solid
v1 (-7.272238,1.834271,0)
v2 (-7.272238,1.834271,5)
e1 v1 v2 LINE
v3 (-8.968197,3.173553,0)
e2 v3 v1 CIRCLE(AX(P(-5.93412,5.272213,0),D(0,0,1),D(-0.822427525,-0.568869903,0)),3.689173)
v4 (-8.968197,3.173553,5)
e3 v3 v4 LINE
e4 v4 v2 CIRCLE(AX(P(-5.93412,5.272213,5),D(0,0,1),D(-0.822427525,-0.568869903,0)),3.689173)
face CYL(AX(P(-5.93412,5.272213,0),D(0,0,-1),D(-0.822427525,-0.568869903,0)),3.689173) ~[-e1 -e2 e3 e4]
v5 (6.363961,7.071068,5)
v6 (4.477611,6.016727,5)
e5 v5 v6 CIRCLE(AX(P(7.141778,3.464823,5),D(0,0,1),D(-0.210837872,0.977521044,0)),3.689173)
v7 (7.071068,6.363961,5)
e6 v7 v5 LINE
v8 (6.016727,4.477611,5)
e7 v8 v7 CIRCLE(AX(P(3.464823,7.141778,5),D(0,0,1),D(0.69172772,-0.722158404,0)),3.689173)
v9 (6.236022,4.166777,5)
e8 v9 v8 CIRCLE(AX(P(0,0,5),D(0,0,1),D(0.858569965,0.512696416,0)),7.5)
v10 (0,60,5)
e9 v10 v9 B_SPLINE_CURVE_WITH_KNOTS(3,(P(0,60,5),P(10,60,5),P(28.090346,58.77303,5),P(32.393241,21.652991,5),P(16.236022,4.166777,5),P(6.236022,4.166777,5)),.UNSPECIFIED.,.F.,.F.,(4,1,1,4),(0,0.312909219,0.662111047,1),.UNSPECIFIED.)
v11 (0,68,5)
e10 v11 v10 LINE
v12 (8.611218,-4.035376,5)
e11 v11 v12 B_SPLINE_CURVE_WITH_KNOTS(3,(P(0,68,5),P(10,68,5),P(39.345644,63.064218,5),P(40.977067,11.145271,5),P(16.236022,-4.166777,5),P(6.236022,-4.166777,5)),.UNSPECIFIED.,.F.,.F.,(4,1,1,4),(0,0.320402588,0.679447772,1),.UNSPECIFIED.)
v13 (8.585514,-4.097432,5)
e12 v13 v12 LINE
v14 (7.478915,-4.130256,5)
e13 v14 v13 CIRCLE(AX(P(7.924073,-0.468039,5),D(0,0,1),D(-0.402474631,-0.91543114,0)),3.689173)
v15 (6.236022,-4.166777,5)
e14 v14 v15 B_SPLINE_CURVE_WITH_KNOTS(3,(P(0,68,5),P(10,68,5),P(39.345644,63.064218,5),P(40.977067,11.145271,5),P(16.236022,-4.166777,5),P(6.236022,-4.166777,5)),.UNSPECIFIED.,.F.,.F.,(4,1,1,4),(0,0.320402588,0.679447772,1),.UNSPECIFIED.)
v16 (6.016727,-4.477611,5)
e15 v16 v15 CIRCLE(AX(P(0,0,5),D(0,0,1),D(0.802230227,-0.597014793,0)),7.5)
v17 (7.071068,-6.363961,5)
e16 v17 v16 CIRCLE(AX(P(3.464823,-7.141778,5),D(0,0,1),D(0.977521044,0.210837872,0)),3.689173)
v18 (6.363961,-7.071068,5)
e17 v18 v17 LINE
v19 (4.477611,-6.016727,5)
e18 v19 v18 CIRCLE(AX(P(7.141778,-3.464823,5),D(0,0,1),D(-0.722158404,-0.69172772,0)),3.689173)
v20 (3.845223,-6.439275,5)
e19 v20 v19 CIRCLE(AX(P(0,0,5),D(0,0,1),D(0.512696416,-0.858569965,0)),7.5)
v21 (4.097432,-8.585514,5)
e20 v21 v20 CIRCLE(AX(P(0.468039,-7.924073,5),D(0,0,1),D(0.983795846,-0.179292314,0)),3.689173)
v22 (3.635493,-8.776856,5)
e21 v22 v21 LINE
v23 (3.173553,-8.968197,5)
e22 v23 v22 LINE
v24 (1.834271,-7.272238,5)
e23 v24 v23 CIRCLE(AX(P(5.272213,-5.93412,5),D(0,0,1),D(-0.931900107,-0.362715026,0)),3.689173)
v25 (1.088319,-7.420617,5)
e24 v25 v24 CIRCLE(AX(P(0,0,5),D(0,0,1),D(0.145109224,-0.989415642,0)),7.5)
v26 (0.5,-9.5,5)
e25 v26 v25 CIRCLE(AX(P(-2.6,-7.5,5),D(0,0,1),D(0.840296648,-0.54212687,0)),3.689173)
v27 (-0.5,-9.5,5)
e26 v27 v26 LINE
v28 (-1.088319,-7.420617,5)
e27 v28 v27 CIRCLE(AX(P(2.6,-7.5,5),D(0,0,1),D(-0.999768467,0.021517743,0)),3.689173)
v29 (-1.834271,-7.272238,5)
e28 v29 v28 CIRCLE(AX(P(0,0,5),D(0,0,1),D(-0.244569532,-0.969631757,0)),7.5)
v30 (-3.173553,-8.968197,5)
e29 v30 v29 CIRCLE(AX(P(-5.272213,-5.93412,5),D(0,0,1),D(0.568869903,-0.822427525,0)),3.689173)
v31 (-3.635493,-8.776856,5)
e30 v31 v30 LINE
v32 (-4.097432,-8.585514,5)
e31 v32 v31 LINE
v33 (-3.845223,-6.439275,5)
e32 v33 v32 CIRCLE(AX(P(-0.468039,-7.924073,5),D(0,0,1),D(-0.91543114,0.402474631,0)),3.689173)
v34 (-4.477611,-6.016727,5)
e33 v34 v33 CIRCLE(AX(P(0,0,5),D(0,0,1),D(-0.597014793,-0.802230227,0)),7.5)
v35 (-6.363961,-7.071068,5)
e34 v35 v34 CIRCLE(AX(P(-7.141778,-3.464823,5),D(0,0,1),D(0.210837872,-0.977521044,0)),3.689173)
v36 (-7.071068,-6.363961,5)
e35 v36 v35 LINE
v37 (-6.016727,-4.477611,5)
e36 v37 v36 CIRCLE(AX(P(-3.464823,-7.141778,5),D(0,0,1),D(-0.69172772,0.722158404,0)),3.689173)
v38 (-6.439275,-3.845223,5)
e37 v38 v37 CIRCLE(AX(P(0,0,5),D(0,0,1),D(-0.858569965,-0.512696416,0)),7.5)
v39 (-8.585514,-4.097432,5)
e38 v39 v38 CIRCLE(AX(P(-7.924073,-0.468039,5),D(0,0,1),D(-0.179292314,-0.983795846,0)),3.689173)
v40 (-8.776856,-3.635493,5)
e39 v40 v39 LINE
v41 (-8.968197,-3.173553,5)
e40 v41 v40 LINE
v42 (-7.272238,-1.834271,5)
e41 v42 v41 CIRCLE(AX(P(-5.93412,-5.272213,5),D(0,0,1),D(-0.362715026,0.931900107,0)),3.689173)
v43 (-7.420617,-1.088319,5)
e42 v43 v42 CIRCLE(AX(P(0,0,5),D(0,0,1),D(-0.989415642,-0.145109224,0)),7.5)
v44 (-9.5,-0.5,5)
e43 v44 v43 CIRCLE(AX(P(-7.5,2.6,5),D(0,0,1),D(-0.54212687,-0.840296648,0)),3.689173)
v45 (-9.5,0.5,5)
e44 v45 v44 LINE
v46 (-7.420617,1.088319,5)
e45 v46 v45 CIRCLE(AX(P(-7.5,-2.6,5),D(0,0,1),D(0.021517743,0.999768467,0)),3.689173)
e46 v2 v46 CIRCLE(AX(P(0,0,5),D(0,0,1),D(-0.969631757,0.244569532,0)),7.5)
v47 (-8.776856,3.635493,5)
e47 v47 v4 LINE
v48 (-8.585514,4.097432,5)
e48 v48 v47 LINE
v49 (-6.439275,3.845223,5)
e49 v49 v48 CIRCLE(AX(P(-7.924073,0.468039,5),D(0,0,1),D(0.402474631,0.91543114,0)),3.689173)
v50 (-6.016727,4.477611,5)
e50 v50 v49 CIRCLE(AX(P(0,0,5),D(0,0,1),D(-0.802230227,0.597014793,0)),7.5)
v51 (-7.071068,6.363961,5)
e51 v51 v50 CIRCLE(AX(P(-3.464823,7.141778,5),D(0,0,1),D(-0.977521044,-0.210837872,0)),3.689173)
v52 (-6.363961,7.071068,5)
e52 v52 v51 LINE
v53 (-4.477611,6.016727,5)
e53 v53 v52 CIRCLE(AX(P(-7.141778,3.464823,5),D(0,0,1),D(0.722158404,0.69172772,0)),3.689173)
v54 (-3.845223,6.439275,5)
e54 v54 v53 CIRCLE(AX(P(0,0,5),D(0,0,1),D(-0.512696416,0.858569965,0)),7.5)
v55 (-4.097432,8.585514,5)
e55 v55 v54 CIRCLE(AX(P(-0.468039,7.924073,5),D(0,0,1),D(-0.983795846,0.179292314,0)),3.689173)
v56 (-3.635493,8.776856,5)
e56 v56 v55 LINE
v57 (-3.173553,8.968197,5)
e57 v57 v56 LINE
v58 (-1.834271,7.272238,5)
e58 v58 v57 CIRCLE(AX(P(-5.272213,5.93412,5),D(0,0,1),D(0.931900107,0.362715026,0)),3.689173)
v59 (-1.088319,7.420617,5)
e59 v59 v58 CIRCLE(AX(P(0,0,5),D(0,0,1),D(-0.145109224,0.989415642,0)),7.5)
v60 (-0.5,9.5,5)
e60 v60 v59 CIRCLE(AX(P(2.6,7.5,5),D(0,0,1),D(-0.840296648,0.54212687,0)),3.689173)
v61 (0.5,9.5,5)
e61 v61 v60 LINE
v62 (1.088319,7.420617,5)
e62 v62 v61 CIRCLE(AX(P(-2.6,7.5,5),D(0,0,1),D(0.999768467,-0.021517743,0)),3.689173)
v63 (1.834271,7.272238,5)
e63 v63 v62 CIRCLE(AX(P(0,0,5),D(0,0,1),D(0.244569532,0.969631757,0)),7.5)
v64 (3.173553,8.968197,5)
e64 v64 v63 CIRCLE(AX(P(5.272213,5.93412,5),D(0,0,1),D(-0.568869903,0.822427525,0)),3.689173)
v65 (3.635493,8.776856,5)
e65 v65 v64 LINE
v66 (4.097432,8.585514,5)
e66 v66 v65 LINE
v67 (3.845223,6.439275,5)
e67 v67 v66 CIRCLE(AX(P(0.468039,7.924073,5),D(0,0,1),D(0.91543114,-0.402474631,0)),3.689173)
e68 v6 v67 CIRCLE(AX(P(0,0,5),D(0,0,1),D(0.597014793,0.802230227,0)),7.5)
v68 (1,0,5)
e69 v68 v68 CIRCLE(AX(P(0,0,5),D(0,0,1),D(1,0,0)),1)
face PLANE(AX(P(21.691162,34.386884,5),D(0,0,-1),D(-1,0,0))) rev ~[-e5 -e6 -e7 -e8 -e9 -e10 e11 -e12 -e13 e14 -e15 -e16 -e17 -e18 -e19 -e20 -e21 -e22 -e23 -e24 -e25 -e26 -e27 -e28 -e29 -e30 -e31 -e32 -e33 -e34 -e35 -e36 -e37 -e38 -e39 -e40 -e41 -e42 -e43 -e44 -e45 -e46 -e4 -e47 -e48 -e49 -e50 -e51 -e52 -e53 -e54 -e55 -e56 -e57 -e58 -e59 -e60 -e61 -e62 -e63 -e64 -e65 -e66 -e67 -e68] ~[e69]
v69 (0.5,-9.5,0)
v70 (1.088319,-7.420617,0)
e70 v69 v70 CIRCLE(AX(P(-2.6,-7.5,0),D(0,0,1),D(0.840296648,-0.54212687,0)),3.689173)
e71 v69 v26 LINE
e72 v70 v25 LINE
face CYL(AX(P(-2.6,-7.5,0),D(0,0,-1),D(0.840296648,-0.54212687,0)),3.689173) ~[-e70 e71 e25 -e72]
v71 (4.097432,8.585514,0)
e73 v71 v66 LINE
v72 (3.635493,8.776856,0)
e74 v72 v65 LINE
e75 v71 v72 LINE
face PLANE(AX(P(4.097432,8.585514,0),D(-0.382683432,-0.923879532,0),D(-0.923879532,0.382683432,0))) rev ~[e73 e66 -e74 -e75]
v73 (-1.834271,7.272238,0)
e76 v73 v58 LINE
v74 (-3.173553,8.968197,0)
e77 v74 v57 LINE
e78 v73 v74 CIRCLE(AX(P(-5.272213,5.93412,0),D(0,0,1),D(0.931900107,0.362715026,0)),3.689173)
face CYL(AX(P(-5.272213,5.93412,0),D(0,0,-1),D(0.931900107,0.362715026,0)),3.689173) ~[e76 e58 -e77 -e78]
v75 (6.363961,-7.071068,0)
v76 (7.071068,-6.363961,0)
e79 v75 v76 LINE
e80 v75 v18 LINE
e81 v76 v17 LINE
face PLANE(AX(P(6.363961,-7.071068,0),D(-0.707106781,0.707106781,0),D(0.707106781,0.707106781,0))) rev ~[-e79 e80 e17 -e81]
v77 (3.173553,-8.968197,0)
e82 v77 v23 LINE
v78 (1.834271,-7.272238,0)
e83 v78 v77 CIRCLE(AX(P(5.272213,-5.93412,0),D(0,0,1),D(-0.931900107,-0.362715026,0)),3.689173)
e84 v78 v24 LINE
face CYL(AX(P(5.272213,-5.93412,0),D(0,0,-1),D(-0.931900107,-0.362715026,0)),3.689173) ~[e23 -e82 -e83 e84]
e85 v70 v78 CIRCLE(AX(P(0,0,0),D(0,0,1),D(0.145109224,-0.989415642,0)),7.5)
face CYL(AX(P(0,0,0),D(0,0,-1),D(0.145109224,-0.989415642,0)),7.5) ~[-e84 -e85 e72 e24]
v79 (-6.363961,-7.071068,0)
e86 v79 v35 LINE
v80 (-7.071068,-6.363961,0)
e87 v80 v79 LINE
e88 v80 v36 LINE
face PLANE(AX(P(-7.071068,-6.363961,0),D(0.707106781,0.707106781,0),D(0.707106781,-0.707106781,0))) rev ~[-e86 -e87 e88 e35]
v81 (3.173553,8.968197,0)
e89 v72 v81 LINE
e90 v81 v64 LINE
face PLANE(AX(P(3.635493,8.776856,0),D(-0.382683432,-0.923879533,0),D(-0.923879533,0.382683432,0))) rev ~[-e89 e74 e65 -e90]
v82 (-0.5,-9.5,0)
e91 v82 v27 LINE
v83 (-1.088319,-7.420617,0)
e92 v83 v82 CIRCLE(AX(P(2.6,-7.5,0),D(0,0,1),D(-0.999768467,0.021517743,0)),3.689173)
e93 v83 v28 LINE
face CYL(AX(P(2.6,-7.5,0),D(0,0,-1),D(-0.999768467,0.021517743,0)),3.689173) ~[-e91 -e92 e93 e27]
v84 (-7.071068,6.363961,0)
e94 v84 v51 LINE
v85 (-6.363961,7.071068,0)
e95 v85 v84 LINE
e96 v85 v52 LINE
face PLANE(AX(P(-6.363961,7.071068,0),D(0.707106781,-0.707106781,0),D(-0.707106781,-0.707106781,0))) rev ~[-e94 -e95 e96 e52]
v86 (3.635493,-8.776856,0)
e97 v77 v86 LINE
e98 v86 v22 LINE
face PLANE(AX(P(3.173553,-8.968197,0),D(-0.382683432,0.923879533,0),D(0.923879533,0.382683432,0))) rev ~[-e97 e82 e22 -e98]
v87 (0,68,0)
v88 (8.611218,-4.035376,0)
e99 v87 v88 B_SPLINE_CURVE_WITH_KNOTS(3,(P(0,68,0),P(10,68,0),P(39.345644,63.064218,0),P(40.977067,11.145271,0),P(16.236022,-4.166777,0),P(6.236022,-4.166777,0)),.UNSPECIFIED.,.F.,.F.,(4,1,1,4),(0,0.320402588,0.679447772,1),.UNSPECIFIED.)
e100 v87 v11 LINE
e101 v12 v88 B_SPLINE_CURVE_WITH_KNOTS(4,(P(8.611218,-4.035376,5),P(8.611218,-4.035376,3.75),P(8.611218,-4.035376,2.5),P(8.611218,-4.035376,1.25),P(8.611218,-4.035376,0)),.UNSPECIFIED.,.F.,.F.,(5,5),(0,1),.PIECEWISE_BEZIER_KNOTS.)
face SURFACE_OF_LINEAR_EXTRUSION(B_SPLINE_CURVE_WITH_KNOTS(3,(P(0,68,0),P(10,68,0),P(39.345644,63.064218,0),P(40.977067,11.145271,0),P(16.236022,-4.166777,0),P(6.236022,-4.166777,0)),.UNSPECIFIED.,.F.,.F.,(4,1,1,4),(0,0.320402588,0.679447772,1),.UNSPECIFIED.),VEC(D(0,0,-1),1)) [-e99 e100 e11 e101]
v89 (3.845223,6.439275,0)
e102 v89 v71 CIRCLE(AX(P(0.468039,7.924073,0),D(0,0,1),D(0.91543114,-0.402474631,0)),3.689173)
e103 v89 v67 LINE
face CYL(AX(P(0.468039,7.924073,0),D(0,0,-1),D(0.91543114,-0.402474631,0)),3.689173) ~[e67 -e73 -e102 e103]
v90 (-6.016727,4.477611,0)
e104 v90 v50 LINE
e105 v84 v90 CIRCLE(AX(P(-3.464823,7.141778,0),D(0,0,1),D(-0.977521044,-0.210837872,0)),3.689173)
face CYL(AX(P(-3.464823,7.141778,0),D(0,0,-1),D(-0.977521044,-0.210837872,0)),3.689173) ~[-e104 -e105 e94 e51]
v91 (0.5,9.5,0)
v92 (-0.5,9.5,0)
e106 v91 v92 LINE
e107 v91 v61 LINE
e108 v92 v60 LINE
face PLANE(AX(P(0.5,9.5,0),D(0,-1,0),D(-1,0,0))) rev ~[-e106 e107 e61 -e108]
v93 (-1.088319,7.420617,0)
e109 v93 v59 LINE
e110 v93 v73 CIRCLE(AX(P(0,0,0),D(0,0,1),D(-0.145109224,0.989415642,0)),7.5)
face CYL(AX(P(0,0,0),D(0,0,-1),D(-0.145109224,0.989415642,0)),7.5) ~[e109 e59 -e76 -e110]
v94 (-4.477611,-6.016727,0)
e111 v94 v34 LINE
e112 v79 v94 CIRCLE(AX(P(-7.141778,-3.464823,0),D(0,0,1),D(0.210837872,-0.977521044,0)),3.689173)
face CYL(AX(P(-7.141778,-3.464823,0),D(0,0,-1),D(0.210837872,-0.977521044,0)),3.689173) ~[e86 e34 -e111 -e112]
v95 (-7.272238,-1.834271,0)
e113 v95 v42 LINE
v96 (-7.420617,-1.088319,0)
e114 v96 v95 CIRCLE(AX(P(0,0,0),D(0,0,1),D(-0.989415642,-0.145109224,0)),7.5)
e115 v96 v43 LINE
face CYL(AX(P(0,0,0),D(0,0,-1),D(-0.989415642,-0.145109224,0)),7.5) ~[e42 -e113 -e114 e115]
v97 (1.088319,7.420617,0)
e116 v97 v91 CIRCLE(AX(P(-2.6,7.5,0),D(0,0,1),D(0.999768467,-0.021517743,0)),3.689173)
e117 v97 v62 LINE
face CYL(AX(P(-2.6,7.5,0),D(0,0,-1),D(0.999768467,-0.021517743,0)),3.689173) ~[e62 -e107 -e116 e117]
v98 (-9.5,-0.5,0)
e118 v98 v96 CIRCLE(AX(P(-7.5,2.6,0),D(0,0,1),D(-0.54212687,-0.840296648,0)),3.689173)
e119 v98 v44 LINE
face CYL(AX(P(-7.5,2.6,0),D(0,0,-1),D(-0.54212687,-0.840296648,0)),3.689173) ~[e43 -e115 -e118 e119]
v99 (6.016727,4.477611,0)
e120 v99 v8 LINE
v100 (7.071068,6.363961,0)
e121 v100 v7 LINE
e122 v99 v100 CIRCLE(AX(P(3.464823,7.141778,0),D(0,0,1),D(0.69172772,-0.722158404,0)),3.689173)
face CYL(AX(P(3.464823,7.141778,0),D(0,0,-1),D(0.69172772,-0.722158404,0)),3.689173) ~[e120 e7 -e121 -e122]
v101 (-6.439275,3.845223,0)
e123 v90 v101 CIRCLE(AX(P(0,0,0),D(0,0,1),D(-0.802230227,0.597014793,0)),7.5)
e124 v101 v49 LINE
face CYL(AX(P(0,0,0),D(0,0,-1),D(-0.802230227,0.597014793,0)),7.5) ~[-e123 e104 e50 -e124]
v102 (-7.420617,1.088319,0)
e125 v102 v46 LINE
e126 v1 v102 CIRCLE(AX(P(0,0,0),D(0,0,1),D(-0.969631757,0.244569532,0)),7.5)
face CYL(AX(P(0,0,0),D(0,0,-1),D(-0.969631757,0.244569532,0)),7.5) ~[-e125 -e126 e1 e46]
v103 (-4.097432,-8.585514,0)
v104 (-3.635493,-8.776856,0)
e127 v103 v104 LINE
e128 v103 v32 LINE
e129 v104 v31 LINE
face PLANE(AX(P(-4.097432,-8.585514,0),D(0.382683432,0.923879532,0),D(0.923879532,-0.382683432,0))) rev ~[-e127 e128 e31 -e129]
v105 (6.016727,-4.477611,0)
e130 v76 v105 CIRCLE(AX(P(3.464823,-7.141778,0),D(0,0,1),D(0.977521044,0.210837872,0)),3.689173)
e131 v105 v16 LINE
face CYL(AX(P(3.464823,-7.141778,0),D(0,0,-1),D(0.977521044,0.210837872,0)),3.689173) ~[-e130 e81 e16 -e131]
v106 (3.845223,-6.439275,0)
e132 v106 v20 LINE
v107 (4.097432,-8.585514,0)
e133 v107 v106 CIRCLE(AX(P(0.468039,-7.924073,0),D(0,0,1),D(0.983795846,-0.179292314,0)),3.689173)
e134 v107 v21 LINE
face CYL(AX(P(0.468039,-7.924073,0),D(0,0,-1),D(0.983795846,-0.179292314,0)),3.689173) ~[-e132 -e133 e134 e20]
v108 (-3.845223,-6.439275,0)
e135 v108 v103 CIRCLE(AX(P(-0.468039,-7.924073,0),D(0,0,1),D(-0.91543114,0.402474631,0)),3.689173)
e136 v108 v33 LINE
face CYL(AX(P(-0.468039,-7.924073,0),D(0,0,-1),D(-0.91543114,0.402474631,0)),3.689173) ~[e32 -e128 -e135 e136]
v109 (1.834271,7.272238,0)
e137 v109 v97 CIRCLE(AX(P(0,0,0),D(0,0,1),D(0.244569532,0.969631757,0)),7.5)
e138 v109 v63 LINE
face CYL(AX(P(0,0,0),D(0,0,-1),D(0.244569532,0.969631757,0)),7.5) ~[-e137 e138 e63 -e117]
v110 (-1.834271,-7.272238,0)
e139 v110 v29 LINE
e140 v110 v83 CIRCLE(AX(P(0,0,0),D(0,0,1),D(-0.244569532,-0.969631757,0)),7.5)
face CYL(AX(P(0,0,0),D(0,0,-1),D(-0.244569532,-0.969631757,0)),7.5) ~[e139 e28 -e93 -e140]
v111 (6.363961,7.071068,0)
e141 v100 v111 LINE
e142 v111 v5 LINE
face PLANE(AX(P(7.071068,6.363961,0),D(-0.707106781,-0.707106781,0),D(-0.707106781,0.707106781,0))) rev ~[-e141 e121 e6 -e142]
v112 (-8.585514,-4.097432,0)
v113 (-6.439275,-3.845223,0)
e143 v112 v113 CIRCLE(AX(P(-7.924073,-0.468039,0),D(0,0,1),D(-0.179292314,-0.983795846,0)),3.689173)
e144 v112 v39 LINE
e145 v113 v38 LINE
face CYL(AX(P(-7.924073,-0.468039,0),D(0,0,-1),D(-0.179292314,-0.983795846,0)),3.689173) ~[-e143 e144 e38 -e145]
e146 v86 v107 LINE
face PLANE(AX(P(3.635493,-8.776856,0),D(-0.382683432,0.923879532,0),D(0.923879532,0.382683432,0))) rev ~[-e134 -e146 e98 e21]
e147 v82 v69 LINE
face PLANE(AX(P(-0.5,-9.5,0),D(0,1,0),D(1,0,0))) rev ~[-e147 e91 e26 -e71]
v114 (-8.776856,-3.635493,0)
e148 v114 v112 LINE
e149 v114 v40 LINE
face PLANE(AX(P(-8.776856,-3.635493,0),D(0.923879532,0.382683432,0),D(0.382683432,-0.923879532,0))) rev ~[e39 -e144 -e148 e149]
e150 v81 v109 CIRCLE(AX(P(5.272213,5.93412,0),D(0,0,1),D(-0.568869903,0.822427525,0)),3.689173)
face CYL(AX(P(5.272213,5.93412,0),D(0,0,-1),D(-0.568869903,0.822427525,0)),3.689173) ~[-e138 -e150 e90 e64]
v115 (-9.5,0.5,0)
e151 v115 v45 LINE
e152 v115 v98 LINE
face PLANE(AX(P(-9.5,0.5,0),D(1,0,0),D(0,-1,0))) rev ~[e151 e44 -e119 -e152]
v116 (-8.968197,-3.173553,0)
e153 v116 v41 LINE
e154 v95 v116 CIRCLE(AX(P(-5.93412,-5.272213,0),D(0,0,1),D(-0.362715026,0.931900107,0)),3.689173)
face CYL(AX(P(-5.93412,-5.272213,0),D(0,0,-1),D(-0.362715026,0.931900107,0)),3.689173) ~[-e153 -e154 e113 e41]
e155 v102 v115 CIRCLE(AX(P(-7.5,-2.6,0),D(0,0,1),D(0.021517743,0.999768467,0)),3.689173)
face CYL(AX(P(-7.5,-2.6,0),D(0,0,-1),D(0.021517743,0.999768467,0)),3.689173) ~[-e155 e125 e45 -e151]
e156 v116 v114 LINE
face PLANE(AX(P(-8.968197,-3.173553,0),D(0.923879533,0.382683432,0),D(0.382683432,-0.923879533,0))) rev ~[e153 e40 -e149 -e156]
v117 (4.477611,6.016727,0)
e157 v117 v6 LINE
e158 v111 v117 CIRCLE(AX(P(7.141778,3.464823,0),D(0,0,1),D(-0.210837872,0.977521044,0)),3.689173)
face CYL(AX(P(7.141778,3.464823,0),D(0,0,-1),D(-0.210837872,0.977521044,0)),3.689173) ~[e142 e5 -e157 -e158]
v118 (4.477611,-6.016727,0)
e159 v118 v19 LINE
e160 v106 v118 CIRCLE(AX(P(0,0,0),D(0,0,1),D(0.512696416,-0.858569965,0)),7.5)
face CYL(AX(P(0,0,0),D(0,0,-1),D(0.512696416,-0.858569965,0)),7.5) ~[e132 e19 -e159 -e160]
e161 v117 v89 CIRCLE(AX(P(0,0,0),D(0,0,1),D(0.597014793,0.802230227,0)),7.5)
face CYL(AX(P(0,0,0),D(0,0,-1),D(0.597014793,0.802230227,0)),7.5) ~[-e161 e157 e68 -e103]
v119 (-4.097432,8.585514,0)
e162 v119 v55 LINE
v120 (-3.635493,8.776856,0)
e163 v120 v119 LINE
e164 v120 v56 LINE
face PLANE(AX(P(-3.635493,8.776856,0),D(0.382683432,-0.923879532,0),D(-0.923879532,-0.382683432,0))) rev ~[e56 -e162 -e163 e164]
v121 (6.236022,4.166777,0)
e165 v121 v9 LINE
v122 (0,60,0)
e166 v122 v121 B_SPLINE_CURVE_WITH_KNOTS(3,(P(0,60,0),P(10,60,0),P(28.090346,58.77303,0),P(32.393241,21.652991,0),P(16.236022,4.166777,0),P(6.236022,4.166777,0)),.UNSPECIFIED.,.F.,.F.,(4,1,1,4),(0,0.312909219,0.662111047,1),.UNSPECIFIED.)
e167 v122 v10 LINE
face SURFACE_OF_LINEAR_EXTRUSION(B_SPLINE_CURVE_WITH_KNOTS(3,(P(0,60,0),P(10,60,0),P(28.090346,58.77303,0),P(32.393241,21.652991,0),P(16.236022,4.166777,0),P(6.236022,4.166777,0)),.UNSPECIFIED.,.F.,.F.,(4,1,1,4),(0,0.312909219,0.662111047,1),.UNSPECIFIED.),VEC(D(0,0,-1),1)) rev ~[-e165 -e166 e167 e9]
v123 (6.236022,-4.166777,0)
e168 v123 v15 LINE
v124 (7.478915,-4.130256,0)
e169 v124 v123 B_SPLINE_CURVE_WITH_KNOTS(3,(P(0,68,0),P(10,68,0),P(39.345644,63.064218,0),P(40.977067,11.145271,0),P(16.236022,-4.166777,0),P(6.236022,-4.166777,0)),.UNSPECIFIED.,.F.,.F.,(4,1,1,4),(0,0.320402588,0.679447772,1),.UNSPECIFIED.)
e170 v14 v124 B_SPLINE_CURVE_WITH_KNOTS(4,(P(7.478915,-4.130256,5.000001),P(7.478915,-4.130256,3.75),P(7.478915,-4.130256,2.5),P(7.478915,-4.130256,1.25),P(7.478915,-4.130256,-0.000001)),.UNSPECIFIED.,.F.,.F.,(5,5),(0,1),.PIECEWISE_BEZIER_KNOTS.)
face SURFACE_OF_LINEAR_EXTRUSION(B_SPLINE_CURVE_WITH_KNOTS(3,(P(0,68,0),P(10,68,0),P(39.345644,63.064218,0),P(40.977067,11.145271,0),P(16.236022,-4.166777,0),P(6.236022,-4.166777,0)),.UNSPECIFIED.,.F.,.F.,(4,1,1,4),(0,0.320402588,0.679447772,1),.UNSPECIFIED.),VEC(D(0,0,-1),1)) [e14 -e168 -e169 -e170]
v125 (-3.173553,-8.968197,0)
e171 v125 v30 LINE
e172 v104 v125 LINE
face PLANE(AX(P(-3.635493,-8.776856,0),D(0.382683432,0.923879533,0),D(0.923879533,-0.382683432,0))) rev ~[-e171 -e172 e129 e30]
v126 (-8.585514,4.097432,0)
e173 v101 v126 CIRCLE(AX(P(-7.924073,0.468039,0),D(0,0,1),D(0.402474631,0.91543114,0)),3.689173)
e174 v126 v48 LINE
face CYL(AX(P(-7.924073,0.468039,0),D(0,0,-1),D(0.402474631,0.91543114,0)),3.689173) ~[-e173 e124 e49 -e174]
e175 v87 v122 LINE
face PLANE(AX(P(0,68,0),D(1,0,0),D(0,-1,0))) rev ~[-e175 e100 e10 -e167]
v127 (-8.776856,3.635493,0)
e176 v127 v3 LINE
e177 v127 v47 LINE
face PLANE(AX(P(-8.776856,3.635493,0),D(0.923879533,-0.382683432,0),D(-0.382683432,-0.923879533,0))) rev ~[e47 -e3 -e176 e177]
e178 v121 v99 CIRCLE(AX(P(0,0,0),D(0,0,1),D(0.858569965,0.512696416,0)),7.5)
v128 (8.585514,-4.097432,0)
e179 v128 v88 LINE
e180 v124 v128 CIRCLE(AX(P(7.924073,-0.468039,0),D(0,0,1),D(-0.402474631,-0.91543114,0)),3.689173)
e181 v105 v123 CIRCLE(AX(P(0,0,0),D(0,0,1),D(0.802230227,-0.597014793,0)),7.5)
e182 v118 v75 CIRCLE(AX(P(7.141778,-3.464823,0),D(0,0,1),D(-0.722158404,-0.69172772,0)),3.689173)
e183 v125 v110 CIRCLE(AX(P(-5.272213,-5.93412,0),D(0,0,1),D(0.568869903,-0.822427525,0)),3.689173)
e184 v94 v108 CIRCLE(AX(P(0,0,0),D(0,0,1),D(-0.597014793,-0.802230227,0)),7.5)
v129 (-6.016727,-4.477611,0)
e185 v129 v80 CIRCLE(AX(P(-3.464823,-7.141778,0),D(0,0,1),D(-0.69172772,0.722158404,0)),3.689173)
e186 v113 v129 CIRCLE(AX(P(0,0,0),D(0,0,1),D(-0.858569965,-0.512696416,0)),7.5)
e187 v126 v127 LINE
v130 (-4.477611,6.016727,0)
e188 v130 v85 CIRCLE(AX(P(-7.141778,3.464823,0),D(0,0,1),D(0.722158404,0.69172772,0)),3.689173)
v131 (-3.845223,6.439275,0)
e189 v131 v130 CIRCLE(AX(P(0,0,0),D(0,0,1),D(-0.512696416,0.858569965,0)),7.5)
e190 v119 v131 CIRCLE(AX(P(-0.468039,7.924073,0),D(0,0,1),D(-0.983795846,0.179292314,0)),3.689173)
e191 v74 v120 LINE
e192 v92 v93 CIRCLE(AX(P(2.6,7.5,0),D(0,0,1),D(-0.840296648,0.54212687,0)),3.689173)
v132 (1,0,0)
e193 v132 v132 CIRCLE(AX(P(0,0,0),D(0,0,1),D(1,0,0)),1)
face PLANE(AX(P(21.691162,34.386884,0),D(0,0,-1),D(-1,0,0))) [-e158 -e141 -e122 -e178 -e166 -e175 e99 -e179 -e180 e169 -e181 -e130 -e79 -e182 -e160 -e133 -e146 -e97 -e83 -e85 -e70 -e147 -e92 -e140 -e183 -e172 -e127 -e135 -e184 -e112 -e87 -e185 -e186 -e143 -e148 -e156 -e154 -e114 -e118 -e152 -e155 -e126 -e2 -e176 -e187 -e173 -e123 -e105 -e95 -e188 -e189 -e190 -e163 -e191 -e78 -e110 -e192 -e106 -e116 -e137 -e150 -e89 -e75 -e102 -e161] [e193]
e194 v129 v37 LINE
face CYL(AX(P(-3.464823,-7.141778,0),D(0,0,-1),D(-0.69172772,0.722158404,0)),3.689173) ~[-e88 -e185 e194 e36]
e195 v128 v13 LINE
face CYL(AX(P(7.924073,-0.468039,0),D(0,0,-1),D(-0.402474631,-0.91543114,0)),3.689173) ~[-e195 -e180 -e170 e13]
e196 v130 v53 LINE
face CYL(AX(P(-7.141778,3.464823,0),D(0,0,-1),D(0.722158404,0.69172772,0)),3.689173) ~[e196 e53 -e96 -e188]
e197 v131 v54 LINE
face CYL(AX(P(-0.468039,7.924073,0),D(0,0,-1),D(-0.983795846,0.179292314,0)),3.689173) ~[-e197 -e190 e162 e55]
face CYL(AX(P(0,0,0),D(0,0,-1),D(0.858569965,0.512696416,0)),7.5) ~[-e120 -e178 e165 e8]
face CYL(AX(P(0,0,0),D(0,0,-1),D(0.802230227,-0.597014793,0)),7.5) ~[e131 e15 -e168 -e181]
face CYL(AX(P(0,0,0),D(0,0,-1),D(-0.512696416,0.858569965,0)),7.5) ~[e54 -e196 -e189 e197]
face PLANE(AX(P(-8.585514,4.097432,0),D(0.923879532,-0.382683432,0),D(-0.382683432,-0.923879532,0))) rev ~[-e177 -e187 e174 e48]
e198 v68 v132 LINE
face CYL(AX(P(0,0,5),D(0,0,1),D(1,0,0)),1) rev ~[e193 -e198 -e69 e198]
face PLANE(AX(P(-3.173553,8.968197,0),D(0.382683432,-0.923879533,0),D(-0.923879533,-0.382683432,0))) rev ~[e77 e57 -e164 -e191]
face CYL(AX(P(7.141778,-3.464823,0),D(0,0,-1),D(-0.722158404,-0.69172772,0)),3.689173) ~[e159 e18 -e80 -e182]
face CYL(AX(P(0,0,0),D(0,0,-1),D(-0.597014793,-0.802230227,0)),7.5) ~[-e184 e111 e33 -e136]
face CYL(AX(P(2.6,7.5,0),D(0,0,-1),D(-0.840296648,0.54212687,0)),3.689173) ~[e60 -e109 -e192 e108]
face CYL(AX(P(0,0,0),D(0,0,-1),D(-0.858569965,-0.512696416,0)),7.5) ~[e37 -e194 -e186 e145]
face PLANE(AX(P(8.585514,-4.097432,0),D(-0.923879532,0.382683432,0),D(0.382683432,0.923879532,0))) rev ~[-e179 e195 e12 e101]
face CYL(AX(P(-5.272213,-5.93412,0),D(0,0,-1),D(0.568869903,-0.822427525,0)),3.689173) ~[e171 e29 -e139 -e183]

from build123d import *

# Parameters (mm, degrees)
F1_DEPTH = 5
F2_R     = 1
F3_DEPTH = 5.001
F5_DEPTH = 5


with BuildPart() as f1:
    # F0 (on Top) → F1 (new body)
    with BuildSketch(Plane.XY):
        with BuildLine():
            ThreePointArc((7.4206173165, -1.0883191822), (7.4801280027, -0.5456052265), (7.5, 0))
            ThreePointArc((7.5, 0), (7.4801280027, 0.5456052265), (7.4206173165, 1.0883191822))
            ThreePointArc((7.4206173165, 1.0883191822), (7.355889603, 1.4631774151), (7.2722381774, 1.8342714877))
            ThreePointArc((7.2722381774, 1.8342714877), (6.9290964938, 2.8701257427), (6.4392747372, 3.8452231222))
            ThreePointArc((6.4392747372, 3.8452231222), (6.2360220923, 4.1667767476), (6.0167266989, 4.4776109513))
            ThreePointArc((6.0167266989, 4.4776109513), (5.3033008589, 5.3033008589), (4.4776109513, 6.0167266989))
            ThreePointArc((4.4776109513, 6.0167266989), (4.1667767476, 6.2360220923), (3.8452231222, 6.4392747372))
            ThreePointArc((3.8452231222, 6.4392747372), (2.8701257427, 6.9290964938), (1.8342714877, 7.2722381774))
            ThreePointArc((1.8342714877, 7.2722381774), (1.4631774151, 7.355889603), (1.0883191822, 7.4206173165))
            ThreePointArc((1.0883191822, 7.4206173165), (0, 7.5), (-1.0883191822, 7.4206173165))
            ThreePointArc((-1.0883191822, 7.4206173165), (-1.4631774151, 7.355889603), (-1.8342714877, 7.2722381774))
            ThreePointArc((-1.8342714877, 7.2722381774), (-2.8701257427, 6.9290964938), (-3.8452231222, 6.4392747372))
            ThreePointArc((-3.8452231222, 6.4392747372), (-4.1667767476, 6.2360220923), (-4.4776109513, 6.0167266989))
            ThreePointArc((-4.4776109513, 6.0167266989), (-5.3033008589, 5.3033008589), (-6.0167266989, 4.4776109513))
            ThreePointArc((-6.0167266989, 4.4776109513), (-6.2360220923, 4.1667767476), (-6.4392747372, 3.8452231222))
            ThreePointArc((-6.4392747372, 3.8452231222), (-6.9290964938, 2.8701257427), (-7.2722381774, 1.8342714877))
            ThreePointArc((-7.2722381774, 1.8342714877), (-7.355889603, 1.4631774151), (-7.4206173165, 1.0883191822))
            ThreePointArc((-7.4206173165, 1.0883191822), (-7.5, 0), (-7.4206173165, -1.0883191822))
            ThreePointArc((-7.4206173165, -1.0883191822), (-7.355889603, -1.4631774151), (-7.2722381774, -1.8342714877))
            ThreePointArc((-7.2722381774, -1.8342714877), (-6.9290964938, -2.8701257427), (-6.4392747372, -3.8452231222))
            ThreePointArc((-6.4392747372, -3.8452231222), (-6.2360220923, -4.1667767476), (-6.0167266989, -4.4776109513))
            ThreePointArc((-6.0167266989, -4.4776109513), (-5.3033008589, -5.3033008589), (-4.4776109513, -6.0167266989))
            ThreePointArc((-4.4776109513, -6.0167266989), (-4.1667767476, -6.2360220923), (-3.8452231222, -6.4392747372))
            ThreePointArc((-3.8452231222, -6.4392747372), (-2.8701257427, -6.9290964938), (-1.8342714877, -7.2722381774))
            ThreePointArc((-1.8342714877, -7.2722381774), (-1.4631774151, -7.355889603), (-1.0883191822, -7.4206173165))
            ThreePointArc((-1.0883191822, -7.4206173165), (0, -7.5), (1.0883191822, -7.4206173165))
            ThreePointArc((1.0883191822, -7.4206173165), (1.4631774151, -7.355889603), (1.8342714877, -7.2722381774))
            ThreePointArc((1.8342714877, -7.2722381774), (2.8701257427, -6.9290964938), (3.8452231222, -6.4392747372))
            ThreePointArc((3.8452231222, -6.4392747372), (4.1667767476, -6.2360220923), (4.4776109513, -6.0167266989))
            ThreePointArc((4.4776109513, -6.0167266989), (5.3033008589, -5.3033008589), (6.0167266989, -4.4776109513))
            ThreePointArc((6.0167266989, -4.4776109513), (6.2360220923, -4.1667767476), (6.4392747372, -3.8452231222))
            ThreePointArc((6.4392747372, -3.8452231222), (6.9290964938, -2.8701257427), (7.2722381774, -1.8342714877))
            ThreePointArc((7.2722381774, -1.8342714877), (7.355889603, -1.4631774151), (7.4206173165, -1.0883191822))
        make_face()
        with BuildLine():
            ThreePointArc((7.4206173165, 1.0883191822), (7.4801280027, 0.5456052265), (7.5, 0))
            ThreePointArc((7.5, 0), (7.4801280027, -0.5456052265), (7.4206173165, -1.0883191822))
            ThreePointArc((7.4206173165, -1.0883191822), (8.5043518229, -0.9498278009), (9.5, -0.5))
            Line((9.5, -0.5), (9.5, 0))
            Line((9.5, 0), (9.5, 0.5))
            ThreePointArc((9.5, 0.5), (8.5043518229, 0.9498278009), (7.4206173165, 1.0883191822))
        make_face()
        with BuildLine():
            ThreePointArc((6.4392747372, 3.8452231222), (6.9290964938, 2.8701257427), (7.2722381774, 1.8342714877))
            ThreePointArc((7.2722381774, 1.8342714877), (8.2204799494, 2.376948081), (8.968197275, 3.1735528412))
            Line((8.968197275, 3.1735528412), (8.7768555589, 3.6354926075))
            Line((8.7768555589, 3.6354926075), (8.5855138427, 4.0974323737))
            ThreePointArc((8.5855138427, 4.0974323737), (7.4935132234, 4.1320010103), (6.4392747372, 3.8452231222))
        make_face()
        with BuildLine():
            ThreePointArc((8.968197275, -3.1735528412), (8.2204799494, -2.376948081), (7.2722381774, -1.8342714877))
            ThreePointArc((7.2722381774, -1.8342714877), (6.9290964938, -2.8701257427), (6.4392747372, -3.8452231222))
            ThreePointArc((6.4392747372, -3.8452231222), (7.4935132234, -4.1320010103), (8.5855138427, -4.0974323737))
            Line((8.5855138427, -4.0974323737), (8.7768555589, -3.6354926075))
            Line((8.7768555589, -3.6354926075), (8.968197275, -3.1735528412))
        make_face()
        with BuildLine():
            ThreePointArc((4.4776109513, 6.0167266989), (5.3033008589, 5.3033008589), (6.0167266989, 4.4776109513))
            ThreePointArc((6.0167266989, 4.4776109513), (6.6851145225, 5.3418551646), (7.0710678119, 6.3639610307))
            Line((7.0710678119, 6.3639610307), (6.7175144213, 6.7175144213))
            Line((6.7175144213, 6.7175144213), (6.3639610307, 7.0710678119))
            ThreePointArc((6.3639610307, 7.0710678119), (5.3418551646, 6.6851145225), (4.4776109513, 6.0167266989))
        make_face()
        with BuildLine():
            ThreePointArc((7.0710678119, -6.3639610307), (6.6851145225, -5.3418551646), (6.0167266989, -4.4776109513))
            ThreePointArc((6.0167266989, -4.4776109513), (5.3033008589, -5.3033008589), (4.4776109513, -6.0167266989))
            ThreePointArc((4.4776109513, -6.0167266989), (5.3418551646, -6.6851145225), (6.3639610307, -7.0710678119))
            Line((6.3639610307, -7.0710678119), (6.7175144213, -6.7175144213))
            Line((6.7175144213, -6.7175144213), (7.0710678119, -6.3639610307))
        make_face()
        with BuildLine():
            ThreePointArc((1.8342714877, 7.2722381774), (2.8701257427, 6.9290964938), (3.8452231222, 6.4392747372))
            ThreePointArc((3.8452231222, 6.4392747372), (4.1320010103, 7.4935132234), (4.0974323737, 8.5855138427))
            Line((4.0974323737, 8.5855138427), (3.6354926075, 8.7768555589))
            Line((3.6354926075, 8.7768555589), (3.1735528412, 8.968197275))
            ThreePointArc((3.1735528412, 8.968197275), (2.376948081, 8.2204799494), (1.8342714877, 7.2722381774))
        make_face()
        with BuildLine():
            ThreePointArc((4.0974323737, -8.5855138427), (4.1320010103, -7.4935132234), (3.8452231222, -6.4392747372))
            ThreePointArc((3.8452231222, -6.4392747372), (2.8701257427, -6.9290964938), (1.8342714877, -7.2722381774))
            ThreePointArc((1.8342714877, -7.2722381774), (2.376948081, -8.2204799494), (3.1735528412, -8.968197275))
            Line((3.1735528412, -8.968197275), (3.6354926075, -8.7768555589))
            Line((3.6354926075, -8.7768555589), (4.0974323737, -8.5855138427))
        make_face()
        with BuildLine():
            ThreePointArc((-1.0883191822, 7.4206173165), (0, 7.5), (1.0883191822, 7.4206173165))
            ThreePointArc((1.0883191822, 7.4206173165), (0.9498278009, 8.5043518229), (0.5, 9.5))
            Line((0.5, 9.5), (0, 9.5))
            Line((0, 9.5), (-0.5, 9.5))
            ThreePointArc((-0.5, 9.5), (-0.9498278009, 8.5043518229), (-1.0883191822, 7.4206173165))
        make_face()
        with BuildLine():
            ThreePointArc((0.5, -9.5), (0.9498278009, -8.5043518229), (1.0883191822, -7.4206173165))
            ThreePointArc((1.0883191822, -7.4206173165), (0, -7.5), (-1.0883191822, -7.4206173165))
            ThreePointArc((-1.0883191822, -7.4206173165), (-0.9498278009, -8.5043518229), (-0.5, -9.5))
            Line((-0.5, -9.5), (0, -9.5))
            Line((0, -9.5), (0.5, -9.5))
        make_face()
        with BuildLine():
            ThreePointArc((-3.8452231222, 6.4392747372), (-2.8701257427, 6.9290964938), (-1.8342714877, 7.2722381774))
            ThreePointArc((-1.8342714877, 7.2722381774), (-2.376948081, 8.2204799494), (-3.1735528412, 8.968197275))
            Line((-3.1735528412, 8.968197275), (-3.6354926075, 8.7768555589))
            Line((-3.6354926075, 8.7768555589), (-4.0974323737, 8.5855138427))
            ThreePointArc((-4.0974323737, 8.5855138427), (-4.1320010103, 7.4935132234), (-3.8452231222, 6.4392747372))
        make_face()
        with BuildLine():
            ThreePointArc((-3.1735528412, -8.968197275), (-2.376948081, -8.2204799494), (-1.8342714877, -7.2722381774))
            ThreePointArc((-1.8342714877, -7.2722381774), (-2.8701257427, -6.9290964938), (-3.8452231222, -6.4392747372))
            ThreePointArc((-3.8452231222, -6.4392747372), (-4.1320010103, -7.4935132234), (-4.0974323737, -8.5855138427))
            Line((-4.0974323737, -8.5855138427), (-3.6354926075, -8.7768555589))
            Line((-3.6354926075, -8.7768555589), (-3.1735528412, -8.968197275))
        make_face()
        with BuildLine():
            ThreePointArc((-6.0167266989, 4.4776109513), (-5.3033008589, 5.3033008589), (-4.4776109513, 6.0167266989))
            ThreePointArc((-4.4776109513, 6.0167266989), (-5.3418551646, 6.6851145225), (-6.3639610307, 7.0710678119))
            Line((-6.3639610307, 7.0710678119), (-6.7175144213, 6.7175144213))
            Line((-6.7175144213, 6.7175144213), (-7.0710678119, 6.3639610307))
            ThreePointArc((-7.0710678119, 6.3639610307), (-6.6851145225, 5.3418551646), (-6.0167266989, 4.4776109513))
        make_face()
        with BuildLine():
            ThreePointArc((-6.3639610307, -7.0710678119), (-5.3418551646, -6.6851145225), (-4.4776109513, -6.0167266989))
            ThreePointArc((-4.4776109513, -6.0167266989), (-5.3033008589, -5.3033008589), (-6.0167266989, -4.4776109513))
            ThreePointArc((-6.0167266989, -4.4776109513), (-6.6851145225, -5.3418551646), (-7.0710678119, -6.3639610307))
            Line((-7.0710678119, -6.3639610307), (-6.7175144213, -6.7175144213))
            Line((-6.7175144213, -6.7175144213), (-6.3639610307, -7.0710678119))
        make_face()
        with BuildLine():
            ThreePointArc((-7.2722381774, 1.8342714877), (-6.9290964938, 2.8701257427), (-6.4392747372, 3.8452231222))
            ThreePointArc((-6.4392747372, 3.8452231222), (-7.4935132234, 4.1320010103), (-8.5855138427, 4.0974323737))
            Line((-8.5855138427, 4.0974323737), (-8.7768555589, 3.6354926075))
            Line((-8.7768555589, 3.6354926075), (-8.968197275, 3.1735528412))
            ThreePointArc((-8.968197275, 3.1735528412), (-8.2204799494, 2.376948081), (-7.2722381774, 1.8342714877))
        make_face()
        with BuildLine():
            ThreePointArc((-8.5855138427, -4.0974323737), (-7.4935132234, -4.1320010103), (-6.4392747372, -3.8452231222))
            ThreePointArc((-6.4392747372, -3.8452231222), (-6.9290964938, -2.8701257427), (-7.2722381774, -1.8342714877))
            ThreePointArc((-7.2722381774, -1.8342714877), (-8.2204799494, -2.376948081), (-8.968197275, -3.1735528412))
            Line((-8.968197275, -3.1735528412), (-8.7768555589, -3.6354926075))
            Line((-8.7768555589, -3.6354926075), (-8.5855138427, -4.0974323737))
        make_face()
        with BuildLine():
            ThreePointArc((-7.4206173165, -1.0883191822), (-7.5, 0), (-7.4206173165, 1.0883191822))
            ThreePointArc((-7.4206173165, 1.0883191822), (-8.5043518229, 0.9498278009), (-9.5, 0.5))
            Line((-9.5, 0.5), (-9.5, 0))
            Line((-9.5, 0), (-9.5, -0.5))
            ThreePointArc((-9.5, -0.5), (-8.5043518229, -0.9498278009), (-7.4206173165, -1.0883191822))
        make_face()
    extrude(amount=F1_DEPTH)

    # F2 (on face) → F3 (cut, through all)
    with BuildSketch(Plane.XY.offset(5)):
        Circle(F2_R)
    extrude(amount=-F3_DEPTH, mode=Mode.SUBTRACT)

    # F4 (on Top) → F5 (join, through all)
    with BuildSketch(Plane.XY):
        with BuildLine():
            add(Edge.make_bspline(
                [(0, 68), (10, 68), (39.3456439437, 63.064218154), (40.9770665239, 11.1452711637), (16.2360220923, -4.1667767476), (6.2360220923, -4.1667767476)],
                knots=[0, 0, 0, 0, 0.3204025883, 0.6794477725, 1, 1, 1, 1], degree=3))
            Line((0, 68), (0, 60))
            add(Edge.make_bspline(
                [(0, 60), (10, 60), (28.0903463875, 58.7730295468), (32.3932406636, 21.6529907107), (16.2360220923, 4.1667767476), (6.2360220923, 4.1667767476)],
                knots=[0, 0, 0, 0, 0.3129092193, 0.6621110471, 1, 1, 1, 1], degree=3))
            Line((6.2360220923, 4.1667767476), (6.2360220923, -4.1667767476))
        make_face()
    extrude(amount=F5_DEPTH)


solid = f1.part
